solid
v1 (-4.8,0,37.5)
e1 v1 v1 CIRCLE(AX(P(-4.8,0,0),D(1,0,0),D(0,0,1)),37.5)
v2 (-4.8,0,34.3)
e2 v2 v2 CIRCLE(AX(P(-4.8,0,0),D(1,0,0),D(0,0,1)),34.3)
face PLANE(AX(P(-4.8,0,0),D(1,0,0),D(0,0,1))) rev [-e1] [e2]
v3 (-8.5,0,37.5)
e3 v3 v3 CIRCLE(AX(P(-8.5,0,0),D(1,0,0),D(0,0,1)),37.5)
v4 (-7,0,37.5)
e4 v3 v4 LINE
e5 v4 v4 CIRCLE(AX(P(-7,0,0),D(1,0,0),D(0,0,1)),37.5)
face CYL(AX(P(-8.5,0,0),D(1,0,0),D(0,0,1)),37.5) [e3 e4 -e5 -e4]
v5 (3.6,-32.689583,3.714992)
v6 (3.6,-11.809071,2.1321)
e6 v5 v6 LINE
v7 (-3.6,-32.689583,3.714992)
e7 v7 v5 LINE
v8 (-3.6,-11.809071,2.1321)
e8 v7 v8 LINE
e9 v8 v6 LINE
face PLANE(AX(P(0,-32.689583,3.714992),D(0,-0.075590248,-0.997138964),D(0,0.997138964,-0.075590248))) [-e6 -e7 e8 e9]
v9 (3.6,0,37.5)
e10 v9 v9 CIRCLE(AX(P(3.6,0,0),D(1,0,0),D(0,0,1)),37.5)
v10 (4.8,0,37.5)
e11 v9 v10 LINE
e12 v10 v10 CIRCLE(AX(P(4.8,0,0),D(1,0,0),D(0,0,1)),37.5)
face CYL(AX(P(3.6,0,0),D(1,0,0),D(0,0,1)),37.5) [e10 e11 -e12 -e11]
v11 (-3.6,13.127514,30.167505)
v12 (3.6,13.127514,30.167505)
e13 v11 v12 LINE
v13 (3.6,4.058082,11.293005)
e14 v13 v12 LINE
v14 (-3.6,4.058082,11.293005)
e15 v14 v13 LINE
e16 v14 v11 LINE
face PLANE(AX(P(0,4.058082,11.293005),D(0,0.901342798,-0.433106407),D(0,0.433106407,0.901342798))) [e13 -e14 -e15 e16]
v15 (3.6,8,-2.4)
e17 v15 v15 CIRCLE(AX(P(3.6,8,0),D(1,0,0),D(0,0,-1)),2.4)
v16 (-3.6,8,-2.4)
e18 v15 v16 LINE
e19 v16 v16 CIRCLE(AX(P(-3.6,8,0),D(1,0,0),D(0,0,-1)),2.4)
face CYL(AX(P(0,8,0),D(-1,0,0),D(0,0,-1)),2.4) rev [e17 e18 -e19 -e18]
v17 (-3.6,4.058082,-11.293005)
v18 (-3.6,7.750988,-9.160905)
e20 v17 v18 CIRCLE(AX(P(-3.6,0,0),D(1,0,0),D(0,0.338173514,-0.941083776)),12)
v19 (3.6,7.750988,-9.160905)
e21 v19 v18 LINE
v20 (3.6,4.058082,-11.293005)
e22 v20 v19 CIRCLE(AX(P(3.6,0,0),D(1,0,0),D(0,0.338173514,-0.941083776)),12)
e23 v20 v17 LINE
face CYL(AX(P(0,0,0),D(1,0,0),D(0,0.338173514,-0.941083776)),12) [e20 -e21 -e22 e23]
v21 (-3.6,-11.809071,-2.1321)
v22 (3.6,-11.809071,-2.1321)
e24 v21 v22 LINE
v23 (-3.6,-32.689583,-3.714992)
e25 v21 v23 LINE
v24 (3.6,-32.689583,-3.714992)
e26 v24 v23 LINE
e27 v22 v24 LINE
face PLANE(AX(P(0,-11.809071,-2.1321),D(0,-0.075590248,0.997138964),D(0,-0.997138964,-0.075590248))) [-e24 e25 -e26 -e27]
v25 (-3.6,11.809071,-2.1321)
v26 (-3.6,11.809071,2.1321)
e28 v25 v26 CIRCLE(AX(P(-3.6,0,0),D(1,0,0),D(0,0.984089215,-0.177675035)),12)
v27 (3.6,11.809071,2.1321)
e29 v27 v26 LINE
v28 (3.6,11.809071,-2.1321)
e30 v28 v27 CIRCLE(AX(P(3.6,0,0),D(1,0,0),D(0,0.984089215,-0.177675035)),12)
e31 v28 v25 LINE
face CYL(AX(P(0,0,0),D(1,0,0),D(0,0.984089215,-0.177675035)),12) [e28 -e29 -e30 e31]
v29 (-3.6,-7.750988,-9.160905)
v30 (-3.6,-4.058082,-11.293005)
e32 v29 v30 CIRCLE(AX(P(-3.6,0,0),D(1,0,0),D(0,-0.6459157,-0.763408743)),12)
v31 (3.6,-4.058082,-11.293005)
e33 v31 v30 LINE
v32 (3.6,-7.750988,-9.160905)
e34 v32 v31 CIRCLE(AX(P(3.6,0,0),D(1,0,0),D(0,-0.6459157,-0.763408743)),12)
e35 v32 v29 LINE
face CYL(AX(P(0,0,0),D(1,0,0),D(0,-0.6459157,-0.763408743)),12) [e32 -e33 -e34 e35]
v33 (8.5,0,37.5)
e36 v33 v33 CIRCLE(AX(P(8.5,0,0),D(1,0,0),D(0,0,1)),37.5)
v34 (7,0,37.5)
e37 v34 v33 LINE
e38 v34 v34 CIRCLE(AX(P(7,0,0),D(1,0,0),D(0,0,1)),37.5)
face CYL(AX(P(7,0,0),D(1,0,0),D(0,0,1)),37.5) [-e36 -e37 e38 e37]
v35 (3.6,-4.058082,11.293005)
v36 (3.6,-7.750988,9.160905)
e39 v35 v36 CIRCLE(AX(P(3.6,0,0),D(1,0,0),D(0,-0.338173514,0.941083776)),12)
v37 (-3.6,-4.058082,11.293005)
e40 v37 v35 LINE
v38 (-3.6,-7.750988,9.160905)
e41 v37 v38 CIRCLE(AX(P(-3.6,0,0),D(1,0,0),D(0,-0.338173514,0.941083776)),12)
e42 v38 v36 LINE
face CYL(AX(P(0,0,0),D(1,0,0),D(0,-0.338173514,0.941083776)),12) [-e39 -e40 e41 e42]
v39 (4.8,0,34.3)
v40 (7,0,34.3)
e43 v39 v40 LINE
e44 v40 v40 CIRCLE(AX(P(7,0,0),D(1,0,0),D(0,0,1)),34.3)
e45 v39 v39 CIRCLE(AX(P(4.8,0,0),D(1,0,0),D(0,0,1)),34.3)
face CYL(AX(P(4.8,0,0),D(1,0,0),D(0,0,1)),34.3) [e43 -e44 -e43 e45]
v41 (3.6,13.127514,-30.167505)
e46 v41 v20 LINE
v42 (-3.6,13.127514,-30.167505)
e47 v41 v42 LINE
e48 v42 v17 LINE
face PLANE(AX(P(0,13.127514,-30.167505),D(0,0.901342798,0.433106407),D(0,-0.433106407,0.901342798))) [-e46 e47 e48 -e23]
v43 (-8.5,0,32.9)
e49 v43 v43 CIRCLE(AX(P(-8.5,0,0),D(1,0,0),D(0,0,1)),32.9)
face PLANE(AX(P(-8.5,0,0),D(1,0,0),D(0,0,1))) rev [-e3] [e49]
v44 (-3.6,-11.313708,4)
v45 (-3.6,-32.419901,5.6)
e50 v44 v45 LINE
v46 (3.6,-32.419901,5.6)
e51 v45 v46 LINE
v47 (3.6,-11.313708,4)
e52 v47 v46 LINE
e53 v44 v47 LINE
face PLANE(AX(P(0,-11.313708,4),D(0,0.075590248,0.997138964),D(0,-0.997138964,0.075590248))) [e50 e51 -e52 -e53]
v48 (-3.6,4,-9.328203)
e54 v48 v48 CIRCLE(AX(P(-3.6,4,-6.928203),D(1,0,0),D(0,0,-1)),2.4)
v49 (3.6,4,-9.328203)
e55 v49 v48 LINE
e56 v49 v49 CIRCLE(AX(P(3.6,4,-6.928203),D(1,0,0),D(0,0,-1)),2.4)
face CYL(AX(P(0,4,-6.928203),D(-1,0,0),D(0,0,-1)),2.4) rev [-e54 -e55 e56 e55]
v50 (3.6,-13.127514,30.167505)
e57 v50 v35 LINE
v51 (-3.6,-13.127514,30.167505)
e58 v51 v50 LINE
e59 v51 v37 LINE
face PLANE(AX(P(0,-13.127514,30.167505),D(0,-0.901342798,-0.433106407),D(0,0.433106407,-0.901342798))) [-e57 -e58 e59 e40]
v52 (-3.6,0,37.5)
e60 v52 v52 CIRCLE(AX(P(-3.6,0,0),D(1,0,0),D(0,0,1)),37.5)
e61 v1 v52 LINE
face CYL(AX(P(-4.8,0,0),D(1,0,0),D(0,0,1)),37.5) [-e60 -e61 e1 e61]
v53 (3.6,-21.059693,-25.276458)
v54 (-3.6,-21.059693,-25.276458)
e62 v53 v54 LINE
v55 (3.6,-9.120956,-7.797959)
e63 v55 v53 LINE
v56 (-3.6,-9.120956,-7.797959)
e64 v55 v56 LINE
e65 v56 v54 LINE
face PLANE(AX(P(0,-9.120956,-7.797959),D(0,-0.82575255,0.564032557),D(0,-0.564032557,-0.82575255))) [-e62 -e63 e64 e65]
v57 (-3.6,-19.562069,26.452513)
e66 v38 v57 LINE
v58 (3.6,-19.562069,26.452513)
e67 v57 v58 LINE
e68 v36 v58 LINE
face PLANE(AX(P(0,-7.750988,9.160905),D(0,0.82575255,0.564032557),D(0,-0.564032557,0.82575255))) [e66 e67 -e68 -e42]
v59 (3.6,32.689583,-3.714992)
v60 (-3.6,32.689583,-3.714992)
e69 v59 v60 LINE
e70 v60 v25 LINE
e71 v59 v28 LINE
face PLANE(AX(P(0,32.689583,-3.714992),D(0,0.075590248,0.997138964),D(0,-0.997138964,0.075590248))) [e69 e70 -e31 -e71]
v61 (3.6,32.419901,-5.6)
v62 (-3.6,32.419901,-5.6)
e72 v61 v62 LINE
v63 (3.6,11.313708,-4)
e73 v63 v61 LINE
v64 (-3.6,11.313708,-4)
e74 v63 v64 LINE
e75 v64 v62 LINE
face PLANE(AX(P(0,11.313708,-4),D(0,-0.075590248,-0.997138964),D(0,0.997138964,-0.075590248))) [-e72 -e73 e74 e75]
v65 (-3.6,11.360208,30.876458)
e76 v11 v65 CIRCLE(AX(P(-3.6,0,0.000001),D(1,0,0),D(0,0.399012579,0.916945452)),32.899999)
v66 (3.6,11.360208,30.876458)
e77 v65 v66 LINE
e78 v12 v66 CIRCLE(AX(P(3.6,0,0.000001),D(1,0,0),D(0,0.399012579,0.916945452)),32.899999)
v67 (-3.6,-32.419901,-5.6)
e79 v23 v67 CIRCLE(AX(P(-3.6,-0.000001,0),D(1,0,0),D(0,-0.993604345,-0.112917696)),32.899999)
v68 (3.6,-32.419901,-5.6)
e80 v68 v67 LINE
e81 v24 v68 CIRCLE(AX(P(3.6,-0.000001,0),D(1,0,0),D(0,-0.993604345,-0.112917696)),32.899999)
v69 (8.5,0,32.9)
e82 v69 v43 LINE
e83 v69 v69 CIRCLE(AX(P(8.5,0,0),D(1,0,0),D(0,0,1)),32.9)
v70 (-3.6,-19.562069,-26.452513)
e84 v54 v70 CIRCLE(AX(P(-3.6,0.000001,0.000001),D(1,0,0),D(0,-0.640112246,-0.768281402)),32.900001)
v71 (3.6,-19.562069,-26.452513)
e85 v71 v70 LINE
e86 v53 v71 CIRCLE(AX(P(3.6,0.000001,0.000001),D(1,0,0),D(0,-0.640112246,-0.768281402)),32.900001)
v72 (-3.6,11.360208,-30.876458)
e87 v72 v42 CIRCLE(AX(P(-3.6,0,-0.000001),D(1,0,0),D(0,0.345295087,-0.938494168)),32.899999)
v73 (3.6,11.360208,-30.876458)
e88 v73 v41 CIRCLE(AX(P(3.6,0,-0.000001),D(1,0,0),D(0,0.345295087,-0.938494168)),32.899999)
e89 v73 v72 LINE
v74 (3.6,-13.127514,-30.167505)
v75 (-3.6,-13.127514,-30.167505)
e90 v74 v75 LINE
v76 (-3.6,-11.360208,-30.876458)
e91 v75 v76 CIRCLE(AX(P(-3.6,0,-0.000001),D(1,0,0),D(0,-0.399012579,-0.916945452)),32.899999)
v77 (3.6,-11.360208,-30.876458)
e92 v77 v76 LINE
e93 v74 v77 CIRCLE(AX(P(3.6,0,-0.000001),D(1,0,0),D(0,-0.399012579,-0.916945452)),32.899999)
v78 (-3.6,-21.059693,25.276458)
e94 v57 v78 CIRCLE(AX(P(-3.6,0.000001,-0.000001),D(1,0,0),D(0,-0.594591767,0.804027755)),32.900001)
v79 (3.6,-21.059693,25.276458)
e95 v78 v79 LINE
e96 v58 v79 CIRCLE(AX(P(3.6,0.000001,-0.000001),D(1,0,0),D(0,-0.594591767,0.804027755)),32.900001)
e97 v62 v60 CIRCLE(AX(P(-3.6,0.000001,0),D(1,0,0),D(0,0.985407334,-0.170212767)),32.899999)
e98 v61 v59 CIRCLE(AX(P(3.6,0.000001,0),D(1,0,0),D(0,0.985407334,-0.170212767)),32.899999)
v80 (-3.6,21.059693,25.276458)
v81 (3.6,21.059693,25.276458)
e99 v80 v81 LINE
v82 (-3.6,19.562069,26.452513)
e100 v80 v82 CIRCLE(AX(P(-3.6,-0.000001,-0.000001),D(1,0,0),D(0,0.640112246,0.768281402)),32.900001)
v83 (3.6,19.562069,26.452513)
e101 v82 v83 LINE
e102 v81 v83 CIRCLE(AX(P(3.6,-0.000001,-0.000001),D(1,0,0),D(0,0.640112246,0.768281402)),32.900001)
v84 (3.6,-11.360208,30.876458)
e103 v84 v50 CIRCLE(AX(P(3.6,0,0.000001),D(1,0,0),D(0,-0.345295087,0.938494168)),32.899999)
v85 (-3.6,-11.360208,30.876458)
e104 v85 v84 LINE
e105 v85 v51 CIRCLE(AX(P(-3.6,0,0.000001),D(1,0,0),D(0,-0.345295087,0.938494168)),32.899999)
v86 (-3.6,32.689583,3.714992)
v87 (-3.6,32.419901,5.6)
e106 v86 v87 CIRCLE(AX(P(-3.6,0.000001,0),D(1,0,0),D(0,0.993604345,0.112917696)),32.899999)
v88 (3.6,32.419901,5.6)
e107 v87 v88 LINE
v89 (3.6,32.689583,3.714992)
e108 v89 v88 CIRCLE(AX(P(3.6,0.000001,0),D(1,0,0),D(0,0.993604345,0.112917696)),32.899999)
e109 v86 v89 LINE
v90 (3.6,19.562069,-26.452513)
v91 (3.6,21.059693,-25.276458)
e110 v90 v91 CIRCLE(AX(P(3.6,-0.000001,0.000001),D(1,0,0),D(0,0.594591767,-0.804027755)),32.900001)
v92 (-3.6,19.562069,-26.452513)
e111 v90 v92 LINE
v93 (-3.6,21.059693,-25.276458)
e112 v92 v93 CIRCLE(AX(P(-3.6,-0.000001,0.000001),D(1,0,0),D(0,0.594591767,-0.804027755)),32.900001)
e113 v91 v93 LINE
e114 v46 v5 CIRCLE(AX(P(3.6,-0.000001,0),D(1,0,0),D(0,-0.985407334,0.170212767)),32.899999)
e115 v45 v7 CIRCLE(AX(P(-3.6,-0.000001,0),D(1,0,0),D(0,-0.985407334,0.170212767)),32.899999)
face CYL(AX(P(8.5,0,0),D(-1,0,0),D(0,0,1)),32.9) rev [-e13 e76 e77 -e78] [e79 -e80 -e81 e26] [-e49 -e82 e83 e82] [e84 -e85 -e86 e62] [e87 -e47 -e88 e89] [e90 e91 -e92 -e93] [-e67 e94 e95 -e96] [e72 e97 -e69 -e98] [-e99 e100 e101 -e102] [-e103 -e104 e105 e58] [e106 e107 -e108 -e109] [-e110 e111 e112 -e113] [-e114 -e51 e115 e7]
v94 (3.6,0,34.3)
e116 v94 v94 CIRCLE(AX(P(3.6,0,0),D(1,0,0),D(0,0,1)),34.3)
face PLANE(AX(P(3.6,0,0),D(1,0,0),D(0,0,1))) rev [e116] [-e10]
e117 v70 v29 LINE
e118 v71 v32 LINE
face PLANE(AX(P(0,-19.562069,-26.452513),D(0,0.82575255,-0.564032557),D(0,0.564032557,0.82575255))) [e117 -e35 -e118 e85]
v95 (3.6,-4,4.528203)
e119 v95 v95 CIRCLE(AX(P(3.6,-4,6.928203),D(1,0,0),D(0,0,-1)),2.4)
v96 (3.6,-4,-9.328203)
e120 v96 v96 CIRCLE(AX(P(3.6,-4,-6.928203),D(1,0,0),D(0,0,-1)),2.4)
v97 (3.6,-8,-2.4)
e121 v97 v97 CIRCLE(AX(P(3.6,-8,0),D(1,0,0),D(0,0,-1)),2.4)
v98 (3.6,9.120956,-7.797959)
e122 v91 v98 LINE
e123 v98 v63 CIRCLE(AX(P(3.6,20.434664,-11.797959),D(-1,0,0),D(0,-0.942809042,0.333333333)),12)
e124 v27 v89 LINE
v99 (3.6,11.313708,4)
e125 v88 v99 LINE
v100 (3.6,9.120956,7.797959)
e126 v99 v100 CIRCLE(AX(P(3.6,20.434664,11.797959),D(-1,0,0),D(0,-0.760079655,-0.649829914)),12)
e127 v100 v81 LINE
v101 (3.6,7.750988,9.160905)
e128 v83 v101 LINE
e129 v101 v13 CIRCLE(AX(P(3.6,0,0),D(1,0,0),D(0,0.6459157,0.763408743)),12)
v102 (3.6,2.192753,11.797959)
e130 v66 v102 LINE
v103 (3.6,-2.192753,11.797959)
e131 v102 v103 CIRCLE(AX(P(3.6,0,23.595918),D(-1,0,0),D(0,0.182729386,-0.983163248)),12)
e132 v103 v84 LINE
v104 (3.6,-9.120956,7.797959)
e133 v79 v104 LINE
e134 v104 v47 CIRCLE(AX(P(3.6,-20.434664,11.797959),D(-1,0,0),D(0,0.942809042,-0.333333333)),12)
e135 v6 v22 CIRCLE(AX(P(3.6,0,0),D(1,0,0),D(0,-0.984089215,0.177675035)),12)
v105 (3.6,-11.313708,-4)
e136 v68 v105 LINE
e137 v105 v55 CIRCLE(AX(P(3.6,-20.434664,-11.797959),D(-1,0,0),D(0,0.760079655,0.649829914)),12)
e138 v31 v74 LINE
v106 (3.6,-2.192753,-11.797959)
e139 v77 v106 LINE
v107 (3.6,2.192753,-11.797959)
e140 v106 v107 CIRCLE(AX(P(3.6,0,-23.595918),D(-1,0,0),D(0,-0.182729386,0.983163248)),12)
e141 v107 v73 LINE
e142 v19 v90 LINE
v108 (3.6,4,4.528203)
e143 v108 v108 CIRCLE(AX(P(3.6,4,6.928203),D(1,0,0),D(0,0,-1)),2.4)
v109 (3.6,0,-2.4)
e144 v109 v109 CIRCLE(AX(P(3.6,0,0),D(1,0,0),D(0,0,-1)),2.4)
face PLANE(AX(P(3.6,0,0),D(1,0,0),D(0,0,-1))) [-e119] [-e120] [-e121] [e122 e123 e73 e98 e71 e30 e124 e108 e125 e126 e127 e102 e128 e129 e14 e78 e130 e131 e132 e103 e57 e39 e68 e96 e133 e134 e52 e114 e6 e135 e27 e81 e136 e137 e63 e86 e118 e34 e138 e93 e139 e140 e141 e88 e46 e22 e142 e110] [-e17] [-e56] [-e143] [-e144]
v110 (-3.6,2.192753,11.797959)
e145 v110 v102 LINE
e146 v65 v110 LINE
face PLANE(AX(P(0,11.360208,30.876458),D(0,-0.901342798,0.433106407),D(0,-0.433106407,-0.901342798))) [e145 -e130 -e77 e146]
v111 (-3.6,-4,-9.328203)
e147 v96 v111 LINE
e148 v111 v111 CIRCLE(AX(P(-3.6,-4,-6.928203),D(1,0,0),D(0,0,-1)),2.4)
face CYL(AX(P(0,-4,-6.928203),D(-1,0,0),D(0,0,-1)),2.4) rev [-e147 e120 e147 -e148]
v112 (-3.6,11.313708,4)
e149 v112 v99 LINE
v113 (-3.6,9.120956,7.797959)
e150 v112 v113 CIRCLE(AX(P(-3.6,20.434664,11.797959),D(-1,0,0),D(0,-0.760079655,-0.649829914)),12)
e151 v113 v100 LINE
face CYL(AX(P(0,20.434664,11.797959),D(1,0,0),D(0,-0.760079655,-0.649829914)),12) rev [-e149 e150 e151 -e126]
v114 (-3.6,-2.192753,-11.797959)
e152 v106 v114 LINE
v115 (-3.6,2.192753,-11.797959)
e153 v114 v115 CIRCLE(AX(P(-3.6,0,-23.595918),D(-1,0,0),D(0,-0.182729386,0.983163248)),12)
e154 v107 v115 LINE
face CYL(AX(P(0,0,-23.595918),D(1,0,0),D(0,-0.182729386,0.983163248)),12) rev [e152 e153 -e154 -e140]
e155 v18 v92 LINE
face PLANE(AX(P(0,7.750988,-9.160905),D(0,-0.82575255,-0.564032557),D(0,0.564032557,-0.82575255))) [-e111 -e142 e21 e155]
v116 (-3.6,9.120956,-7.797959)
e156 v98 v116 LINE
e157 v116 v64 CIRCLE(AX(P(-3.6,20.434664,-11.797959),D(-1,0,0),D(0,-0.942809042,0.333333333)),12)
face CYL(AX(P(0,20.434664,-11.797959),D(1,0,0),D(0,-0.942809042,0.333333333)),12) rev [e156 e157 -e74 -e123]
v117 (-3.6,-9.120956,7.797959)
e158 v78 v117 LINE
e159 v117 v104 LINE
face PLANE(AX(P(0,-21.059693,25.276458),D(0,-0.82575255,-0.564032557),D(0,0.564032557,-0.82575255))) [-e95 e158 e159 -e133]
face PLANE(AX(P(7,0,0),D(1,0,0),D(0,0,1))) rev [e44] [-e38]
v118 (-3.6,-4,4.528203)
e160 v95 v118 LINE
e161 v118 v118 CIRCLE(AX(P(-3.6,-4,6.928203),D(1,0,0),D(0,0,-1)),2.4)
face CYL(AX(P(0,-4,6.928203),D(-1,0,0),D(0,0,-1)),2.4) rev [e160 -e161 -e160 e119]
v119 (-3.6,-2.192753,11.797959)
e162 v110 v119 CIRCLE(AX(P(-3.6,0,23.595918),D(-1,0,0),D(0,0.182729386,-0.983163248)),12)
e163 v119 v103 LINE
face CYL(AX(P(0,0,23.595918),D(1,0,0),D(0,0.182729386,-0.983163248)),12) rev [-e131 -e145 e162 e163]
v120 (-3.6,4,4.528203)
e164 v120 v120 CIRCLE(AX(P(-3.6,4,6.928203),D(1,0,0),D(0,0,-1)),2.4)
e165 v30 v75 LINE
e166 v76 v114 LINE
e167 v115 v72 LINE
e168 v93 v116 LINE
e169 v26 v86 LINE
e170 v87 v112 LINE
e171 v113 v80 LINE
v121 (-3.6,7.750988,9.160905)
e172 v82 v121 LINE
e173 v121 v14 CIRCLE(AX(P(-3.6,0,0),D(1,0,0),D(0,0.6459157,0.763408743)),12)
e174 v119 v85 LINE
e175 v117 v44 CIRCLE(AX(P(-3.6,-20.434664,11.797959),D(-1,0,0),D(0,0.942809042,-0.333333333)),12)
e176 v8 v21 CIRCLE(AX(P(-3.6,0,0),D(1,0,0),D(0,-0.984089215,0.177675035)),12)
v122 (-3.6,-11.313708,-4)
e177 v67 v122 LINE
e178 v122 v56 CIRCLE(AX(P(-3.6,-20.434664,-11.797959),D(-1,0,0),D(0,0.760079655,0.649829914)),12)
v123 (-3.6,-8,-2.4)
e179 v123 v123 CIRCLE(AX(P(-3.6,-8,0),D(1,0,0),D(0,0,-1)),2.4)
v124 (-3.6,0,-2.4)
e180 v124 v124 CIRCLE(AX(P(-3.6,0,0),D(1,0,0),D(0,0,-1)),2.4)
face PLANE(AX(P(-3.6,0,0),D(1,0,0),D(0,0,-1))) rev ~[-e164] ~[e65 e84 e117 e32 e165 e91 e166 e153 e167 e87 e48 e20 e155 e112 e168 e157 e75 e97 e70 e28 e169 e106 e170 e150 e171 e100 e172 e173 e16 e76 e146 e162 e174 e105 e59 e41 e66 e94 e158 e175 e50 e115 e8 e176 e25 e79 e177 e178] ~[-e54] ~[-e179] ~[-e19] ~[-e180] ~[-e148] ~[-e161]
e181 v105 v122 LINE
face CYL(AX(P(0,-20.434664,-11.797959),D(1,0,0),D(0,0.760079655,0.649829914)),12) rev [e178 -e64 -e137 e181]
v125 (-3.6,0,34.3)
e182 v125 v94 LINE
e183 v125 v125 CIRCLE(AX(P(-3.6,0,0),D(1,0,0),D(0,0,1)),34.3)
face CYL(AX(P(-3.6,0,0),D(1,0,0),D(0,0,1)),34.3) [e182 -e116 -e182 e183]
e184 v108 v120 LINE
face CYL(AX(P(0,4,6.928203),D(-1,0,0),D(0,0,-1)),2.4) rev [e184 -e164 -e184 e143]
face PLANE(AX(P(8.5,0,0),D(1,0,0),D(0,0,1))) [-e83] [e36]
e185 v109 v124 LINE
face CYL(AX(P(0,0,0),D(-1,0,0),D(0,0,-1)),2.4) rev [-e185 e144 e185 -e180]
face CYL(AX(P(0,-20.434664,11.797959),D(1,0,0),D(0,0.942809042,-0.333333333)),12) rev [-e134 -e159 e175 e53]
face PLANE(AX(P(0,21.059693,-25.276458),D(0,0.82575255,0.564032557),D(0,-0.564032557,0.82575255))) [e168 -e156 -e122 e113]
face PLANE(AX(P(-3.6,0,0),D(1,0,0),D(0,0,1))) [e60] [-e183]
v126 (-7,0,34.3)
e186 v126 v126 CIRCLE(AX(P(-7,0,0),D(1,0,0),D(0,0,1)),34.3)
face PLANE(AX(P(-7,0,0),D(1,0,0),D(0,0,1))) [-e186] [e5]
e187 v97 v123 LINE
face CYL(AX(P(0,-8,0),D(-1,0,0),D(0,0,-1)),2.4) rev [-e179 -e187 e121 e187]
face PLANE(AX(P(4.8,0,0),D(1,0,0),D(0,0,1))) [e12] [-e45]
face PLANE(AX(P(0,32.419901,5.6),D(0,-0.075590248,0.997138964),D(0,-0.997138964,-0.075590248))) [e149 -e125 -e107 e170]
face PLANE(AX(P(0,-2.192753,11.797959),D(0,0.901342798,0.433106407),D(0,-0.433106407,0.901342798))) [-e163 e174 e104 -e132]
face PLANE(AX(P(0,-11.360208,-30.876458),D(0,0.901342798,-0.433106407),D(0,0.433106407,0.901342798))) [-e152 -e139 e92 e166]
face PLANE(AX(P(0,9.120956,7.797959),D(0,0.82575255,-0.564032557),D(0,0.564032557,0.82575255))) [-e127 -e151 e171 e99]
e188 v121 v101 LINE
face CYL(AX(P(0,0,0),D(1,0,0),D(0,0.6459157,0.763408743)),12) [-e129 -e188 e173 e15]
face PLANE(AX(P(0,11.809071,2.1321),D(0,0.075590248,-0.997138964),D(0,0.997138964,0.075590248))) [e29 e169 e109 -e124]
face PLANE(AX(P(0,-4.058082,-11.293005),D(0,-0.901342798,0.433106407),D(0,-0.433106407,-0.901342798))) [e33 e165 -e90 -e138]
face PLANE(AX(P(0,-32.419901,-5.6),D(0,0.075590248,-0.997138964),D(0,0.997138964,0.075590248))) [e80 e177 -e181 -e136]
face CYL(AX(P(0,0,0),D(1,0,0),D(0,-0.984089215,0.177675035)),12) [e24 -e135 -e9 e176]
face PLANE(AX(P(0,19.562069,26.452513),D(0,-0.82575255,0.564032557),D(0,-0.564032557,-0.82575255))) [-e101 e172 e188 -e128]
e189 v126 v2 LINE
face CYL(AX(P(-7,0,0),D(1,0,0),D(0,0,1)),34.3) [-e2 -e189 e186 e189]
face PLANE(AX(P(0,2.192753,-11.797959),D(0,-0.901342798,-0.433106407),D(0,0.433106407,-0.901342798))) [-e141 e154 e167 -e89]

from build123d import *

# Parameters (mm, degrees)
SKETCH1_R           = 2.4
BOSS_EXTRUDE1_DEPTH = 3.6


with BuildPart() as part:
    # Top → Base (revolve)
    with BuildSketch(Plane(origin=(0, 0, 0), x_dir=(1, 0, 0), z_dir=(0, 1, 0)), mode=Mode.PRIVATE) as base_sk:
        Polygon((-8.5, 32.9), (-8.5, 37.5), (-7, 37.5), (-7, 34.3), (-4.8, 34.3), (-4.8, 37.5), (-3.6, 37.5), (-3.6, 34.3), (3.6, 34.3), (3.6, 37.5), (4.8, 37.5), (4.8, 34.3), (7, 34.3), (7, 37.5), (8.5, 37.5), (8.5, 32.9), align=None)
    revolve(base_sk.sketch.rotate(Axis((0, 0, 0), (1, 0, 0)), 180), axis=Axis((0, 0, 0), (1, 0, 0)))

    # Sketch1 → Boss-Extrude1 (add, symmetric)
    with BuildSketch(Plane(origin=(0, 0, 0), x_dir=(0, 0, -1), z_dir=(1, 0, 0))):
        with BuildLine():
            Line((-2.132100415, 11.809070574), (-3.714992228, 32.689582939))
            ThreePointArc((-3.714992228, 32.689582939), (-4.659447617, 32.568382642), (-5.6, 32.419901295))
            Line((-5.6, 32.419901295), (-4, 11.313708499))
            ThreePointArc((-4, 11.313708499), (-5.797958971, 10.042359518), (-7.797958971, 9.120955865))
            Line((-7.797958971, 9.120955865), (-25.27645811, 21.059692909))
            ThreePointArc((-25.27645811, 21.059692909), (-25.875322919, 20.319391325), (-26.452513151, 19.562069114))
            Line((-26.452513151, 19.562069114), (-9.160904905, 7.75098841))
            ThreePointArc((-9.160904905, 7.75098841), (-10.392304845, 6), (-11.29300532, 4.058082164))
            Line((-11.29300532, 4.058082164), (-30.167505379, 13.127513825))
            ThreePointArc((-30.167505379, 13.127513825), (-30.534770537, 12.248991317), (-30.87645811, 11.360208386))
            Line((-30.87645811, 11.360208386), (-11.797958971, 2.192752634))
            ThreePointArc((-11.797958971, 2.192752634), (-11.595917942, 0), (-11.797958971, -2.192752634))
            Line((-11.797958971, -2.192752634), (-30.87645811, -11.360208386))
            ThreePointArc((-30.87645811, -11.360208386), (-30.534770537, -12.248991317), (-30.167505379, -13.127513825))
            Line((-30.167505379, -13.127513825), (-11.29300532, -4.058082164))
            ThreePointArc((-11.29300532, -4.058082164), (-10.392304845, -6), (-9.160904905, -7.75098841))
            Line((-9.160904905, -7.75098841), (-26.452513151, -19.562069114))
            ThreePointArc((-26.452513151, -19.562069114), (-25.875322919, -20.319391325), (-25.27645811, -21.059692909))
            Line((-25.27645811, -21.059692909), (-7.797958971, -9.120955865))
            ThreePointArc((-7.797958971, -9.120955865), (-5.797958971, -10.042359518), (-4, -11.313708499))
            Line((-4, -11.313708499), (-5.6, -32.419901295))
            ThreePointArc((-5.6, -32.419901295), (-4.659447617, -32.568382642), (-3.714992228, -32.689582939))
            Line((-3.714992228, -32.689582939), (-2.132100415, -11.809070574))
            ThreePointArc((-2.132100415, -11.809070574), (0, -12), (2.132100415, -11.809070574))
            Line((2.132100415, -11.809070574), (3.714992228, -32.689582939))
            ThreePointArc((3.714992228, -32.689582939), (4.659447617, -32.568382642), (5.6, -32.419901295))
            Line((5.6, -32.419901295), (4, -11.313708499))
            ThreePointArc((4, -11.313708499), (5.797958971, -10.042359518), (7.797958971, -9.120955865))
            Line((7.797958971, -9.120955865), (25.27645811, -21.059692909))
            ThreePointArc((25.27645811, -21.059692909), (25.875322919, -20.319391325), (26.452513151, -19.562069114))
            Line((26.452513151, -19.562069114), (9.160904905, -7.75098841))
            ThreePointArc((9.160904905, -7.75098841), (10.392304845, -6), (11.29300532, -4.058082164))
            Line((11.29300532, -4.058082164), (30.167505379, -13.127513825))
            ThreePointArc((30.167505379, -13.127513825), (30.534770537, -12.248991317), (30.87645811, -11.360208386))
            Line((30.87645811, -11.360208386), (11.797958971, -2.192752634))
            ThreePointArc((11.797958971, -2.192752634), (11.595917942, 0), (11.797958971, 2.192752634))
            Line((11.797958971, 2.192752634), (30.87645811, 11.360208386))
            ThreePointArc((30.87645811, 11.360208386), (30.534770537, 12.248991317), (30.167505379, 13.127513825))
            Line((30.167505379, 13.127513825), (11.29300532, 4.058082164))
            ThreePointArc((11.29300532, 4.058082164), (10.392304845, 6), (9.160904905, 7.75098841))
            Line((9.160904905, 7.75098841), (26.452513151, 19.562069114))
            ThreePointArc((26.452513151, 19.562069114), (25.875322919, 20.319391325), (25.27645811, 21.059692909))
            Line((25.27645811, 21.059692909), (7.797958971, 9.120955865))
            ThreePointArc((7.797958971, 9.120955865), (5.797958971, 10.042359518), (4, 11.313708499))
            Line((4, 11.313708499), (5.6, 32.419901295))
            ThreePointArc((5.6, 32.419901295), (4.659447617, 32.568382642), (3.714992228, 32.689582939))
            Line((3.714992228, 32.689582939), (2.132100415, 11.809070574))
            ThreePointArc((2.132100415, 11.809070574), (0, 12), (-2.132100415, 11.809070574))
        make_face()
        with Locations((0, 8)):
            Circle(SKETCH1_R, mode=Mode.SUBTRACT)
        Circle(SKETCH1_R, mode=Mode.SUBTRACT)
        with Locations((-6.92820323, 4)):
            Circle(SKETCH1_R, mode=Mode.SUBTRACT)
        with Locations((-6.92820323, -4)):
            Circle(SKETCH1_R, mode=Mode.SUBTRACT)
        with Locations((0, -8)):
            Circle(SKETCH1_R, mode=Mode.SUBTRACT)
        with Locations((6.92820323, -4)):
            Circle(SKETCH1_R, mode=Mode.SUBTRACT)
        with Locations((6.92820323, 4)):
            Circle(SKETCH1_R, mode=Mode.SUBTRACT)
    extrude(amount=BOSS_EXTRUDE1_DEPTH, both=True)


solid = part.part
